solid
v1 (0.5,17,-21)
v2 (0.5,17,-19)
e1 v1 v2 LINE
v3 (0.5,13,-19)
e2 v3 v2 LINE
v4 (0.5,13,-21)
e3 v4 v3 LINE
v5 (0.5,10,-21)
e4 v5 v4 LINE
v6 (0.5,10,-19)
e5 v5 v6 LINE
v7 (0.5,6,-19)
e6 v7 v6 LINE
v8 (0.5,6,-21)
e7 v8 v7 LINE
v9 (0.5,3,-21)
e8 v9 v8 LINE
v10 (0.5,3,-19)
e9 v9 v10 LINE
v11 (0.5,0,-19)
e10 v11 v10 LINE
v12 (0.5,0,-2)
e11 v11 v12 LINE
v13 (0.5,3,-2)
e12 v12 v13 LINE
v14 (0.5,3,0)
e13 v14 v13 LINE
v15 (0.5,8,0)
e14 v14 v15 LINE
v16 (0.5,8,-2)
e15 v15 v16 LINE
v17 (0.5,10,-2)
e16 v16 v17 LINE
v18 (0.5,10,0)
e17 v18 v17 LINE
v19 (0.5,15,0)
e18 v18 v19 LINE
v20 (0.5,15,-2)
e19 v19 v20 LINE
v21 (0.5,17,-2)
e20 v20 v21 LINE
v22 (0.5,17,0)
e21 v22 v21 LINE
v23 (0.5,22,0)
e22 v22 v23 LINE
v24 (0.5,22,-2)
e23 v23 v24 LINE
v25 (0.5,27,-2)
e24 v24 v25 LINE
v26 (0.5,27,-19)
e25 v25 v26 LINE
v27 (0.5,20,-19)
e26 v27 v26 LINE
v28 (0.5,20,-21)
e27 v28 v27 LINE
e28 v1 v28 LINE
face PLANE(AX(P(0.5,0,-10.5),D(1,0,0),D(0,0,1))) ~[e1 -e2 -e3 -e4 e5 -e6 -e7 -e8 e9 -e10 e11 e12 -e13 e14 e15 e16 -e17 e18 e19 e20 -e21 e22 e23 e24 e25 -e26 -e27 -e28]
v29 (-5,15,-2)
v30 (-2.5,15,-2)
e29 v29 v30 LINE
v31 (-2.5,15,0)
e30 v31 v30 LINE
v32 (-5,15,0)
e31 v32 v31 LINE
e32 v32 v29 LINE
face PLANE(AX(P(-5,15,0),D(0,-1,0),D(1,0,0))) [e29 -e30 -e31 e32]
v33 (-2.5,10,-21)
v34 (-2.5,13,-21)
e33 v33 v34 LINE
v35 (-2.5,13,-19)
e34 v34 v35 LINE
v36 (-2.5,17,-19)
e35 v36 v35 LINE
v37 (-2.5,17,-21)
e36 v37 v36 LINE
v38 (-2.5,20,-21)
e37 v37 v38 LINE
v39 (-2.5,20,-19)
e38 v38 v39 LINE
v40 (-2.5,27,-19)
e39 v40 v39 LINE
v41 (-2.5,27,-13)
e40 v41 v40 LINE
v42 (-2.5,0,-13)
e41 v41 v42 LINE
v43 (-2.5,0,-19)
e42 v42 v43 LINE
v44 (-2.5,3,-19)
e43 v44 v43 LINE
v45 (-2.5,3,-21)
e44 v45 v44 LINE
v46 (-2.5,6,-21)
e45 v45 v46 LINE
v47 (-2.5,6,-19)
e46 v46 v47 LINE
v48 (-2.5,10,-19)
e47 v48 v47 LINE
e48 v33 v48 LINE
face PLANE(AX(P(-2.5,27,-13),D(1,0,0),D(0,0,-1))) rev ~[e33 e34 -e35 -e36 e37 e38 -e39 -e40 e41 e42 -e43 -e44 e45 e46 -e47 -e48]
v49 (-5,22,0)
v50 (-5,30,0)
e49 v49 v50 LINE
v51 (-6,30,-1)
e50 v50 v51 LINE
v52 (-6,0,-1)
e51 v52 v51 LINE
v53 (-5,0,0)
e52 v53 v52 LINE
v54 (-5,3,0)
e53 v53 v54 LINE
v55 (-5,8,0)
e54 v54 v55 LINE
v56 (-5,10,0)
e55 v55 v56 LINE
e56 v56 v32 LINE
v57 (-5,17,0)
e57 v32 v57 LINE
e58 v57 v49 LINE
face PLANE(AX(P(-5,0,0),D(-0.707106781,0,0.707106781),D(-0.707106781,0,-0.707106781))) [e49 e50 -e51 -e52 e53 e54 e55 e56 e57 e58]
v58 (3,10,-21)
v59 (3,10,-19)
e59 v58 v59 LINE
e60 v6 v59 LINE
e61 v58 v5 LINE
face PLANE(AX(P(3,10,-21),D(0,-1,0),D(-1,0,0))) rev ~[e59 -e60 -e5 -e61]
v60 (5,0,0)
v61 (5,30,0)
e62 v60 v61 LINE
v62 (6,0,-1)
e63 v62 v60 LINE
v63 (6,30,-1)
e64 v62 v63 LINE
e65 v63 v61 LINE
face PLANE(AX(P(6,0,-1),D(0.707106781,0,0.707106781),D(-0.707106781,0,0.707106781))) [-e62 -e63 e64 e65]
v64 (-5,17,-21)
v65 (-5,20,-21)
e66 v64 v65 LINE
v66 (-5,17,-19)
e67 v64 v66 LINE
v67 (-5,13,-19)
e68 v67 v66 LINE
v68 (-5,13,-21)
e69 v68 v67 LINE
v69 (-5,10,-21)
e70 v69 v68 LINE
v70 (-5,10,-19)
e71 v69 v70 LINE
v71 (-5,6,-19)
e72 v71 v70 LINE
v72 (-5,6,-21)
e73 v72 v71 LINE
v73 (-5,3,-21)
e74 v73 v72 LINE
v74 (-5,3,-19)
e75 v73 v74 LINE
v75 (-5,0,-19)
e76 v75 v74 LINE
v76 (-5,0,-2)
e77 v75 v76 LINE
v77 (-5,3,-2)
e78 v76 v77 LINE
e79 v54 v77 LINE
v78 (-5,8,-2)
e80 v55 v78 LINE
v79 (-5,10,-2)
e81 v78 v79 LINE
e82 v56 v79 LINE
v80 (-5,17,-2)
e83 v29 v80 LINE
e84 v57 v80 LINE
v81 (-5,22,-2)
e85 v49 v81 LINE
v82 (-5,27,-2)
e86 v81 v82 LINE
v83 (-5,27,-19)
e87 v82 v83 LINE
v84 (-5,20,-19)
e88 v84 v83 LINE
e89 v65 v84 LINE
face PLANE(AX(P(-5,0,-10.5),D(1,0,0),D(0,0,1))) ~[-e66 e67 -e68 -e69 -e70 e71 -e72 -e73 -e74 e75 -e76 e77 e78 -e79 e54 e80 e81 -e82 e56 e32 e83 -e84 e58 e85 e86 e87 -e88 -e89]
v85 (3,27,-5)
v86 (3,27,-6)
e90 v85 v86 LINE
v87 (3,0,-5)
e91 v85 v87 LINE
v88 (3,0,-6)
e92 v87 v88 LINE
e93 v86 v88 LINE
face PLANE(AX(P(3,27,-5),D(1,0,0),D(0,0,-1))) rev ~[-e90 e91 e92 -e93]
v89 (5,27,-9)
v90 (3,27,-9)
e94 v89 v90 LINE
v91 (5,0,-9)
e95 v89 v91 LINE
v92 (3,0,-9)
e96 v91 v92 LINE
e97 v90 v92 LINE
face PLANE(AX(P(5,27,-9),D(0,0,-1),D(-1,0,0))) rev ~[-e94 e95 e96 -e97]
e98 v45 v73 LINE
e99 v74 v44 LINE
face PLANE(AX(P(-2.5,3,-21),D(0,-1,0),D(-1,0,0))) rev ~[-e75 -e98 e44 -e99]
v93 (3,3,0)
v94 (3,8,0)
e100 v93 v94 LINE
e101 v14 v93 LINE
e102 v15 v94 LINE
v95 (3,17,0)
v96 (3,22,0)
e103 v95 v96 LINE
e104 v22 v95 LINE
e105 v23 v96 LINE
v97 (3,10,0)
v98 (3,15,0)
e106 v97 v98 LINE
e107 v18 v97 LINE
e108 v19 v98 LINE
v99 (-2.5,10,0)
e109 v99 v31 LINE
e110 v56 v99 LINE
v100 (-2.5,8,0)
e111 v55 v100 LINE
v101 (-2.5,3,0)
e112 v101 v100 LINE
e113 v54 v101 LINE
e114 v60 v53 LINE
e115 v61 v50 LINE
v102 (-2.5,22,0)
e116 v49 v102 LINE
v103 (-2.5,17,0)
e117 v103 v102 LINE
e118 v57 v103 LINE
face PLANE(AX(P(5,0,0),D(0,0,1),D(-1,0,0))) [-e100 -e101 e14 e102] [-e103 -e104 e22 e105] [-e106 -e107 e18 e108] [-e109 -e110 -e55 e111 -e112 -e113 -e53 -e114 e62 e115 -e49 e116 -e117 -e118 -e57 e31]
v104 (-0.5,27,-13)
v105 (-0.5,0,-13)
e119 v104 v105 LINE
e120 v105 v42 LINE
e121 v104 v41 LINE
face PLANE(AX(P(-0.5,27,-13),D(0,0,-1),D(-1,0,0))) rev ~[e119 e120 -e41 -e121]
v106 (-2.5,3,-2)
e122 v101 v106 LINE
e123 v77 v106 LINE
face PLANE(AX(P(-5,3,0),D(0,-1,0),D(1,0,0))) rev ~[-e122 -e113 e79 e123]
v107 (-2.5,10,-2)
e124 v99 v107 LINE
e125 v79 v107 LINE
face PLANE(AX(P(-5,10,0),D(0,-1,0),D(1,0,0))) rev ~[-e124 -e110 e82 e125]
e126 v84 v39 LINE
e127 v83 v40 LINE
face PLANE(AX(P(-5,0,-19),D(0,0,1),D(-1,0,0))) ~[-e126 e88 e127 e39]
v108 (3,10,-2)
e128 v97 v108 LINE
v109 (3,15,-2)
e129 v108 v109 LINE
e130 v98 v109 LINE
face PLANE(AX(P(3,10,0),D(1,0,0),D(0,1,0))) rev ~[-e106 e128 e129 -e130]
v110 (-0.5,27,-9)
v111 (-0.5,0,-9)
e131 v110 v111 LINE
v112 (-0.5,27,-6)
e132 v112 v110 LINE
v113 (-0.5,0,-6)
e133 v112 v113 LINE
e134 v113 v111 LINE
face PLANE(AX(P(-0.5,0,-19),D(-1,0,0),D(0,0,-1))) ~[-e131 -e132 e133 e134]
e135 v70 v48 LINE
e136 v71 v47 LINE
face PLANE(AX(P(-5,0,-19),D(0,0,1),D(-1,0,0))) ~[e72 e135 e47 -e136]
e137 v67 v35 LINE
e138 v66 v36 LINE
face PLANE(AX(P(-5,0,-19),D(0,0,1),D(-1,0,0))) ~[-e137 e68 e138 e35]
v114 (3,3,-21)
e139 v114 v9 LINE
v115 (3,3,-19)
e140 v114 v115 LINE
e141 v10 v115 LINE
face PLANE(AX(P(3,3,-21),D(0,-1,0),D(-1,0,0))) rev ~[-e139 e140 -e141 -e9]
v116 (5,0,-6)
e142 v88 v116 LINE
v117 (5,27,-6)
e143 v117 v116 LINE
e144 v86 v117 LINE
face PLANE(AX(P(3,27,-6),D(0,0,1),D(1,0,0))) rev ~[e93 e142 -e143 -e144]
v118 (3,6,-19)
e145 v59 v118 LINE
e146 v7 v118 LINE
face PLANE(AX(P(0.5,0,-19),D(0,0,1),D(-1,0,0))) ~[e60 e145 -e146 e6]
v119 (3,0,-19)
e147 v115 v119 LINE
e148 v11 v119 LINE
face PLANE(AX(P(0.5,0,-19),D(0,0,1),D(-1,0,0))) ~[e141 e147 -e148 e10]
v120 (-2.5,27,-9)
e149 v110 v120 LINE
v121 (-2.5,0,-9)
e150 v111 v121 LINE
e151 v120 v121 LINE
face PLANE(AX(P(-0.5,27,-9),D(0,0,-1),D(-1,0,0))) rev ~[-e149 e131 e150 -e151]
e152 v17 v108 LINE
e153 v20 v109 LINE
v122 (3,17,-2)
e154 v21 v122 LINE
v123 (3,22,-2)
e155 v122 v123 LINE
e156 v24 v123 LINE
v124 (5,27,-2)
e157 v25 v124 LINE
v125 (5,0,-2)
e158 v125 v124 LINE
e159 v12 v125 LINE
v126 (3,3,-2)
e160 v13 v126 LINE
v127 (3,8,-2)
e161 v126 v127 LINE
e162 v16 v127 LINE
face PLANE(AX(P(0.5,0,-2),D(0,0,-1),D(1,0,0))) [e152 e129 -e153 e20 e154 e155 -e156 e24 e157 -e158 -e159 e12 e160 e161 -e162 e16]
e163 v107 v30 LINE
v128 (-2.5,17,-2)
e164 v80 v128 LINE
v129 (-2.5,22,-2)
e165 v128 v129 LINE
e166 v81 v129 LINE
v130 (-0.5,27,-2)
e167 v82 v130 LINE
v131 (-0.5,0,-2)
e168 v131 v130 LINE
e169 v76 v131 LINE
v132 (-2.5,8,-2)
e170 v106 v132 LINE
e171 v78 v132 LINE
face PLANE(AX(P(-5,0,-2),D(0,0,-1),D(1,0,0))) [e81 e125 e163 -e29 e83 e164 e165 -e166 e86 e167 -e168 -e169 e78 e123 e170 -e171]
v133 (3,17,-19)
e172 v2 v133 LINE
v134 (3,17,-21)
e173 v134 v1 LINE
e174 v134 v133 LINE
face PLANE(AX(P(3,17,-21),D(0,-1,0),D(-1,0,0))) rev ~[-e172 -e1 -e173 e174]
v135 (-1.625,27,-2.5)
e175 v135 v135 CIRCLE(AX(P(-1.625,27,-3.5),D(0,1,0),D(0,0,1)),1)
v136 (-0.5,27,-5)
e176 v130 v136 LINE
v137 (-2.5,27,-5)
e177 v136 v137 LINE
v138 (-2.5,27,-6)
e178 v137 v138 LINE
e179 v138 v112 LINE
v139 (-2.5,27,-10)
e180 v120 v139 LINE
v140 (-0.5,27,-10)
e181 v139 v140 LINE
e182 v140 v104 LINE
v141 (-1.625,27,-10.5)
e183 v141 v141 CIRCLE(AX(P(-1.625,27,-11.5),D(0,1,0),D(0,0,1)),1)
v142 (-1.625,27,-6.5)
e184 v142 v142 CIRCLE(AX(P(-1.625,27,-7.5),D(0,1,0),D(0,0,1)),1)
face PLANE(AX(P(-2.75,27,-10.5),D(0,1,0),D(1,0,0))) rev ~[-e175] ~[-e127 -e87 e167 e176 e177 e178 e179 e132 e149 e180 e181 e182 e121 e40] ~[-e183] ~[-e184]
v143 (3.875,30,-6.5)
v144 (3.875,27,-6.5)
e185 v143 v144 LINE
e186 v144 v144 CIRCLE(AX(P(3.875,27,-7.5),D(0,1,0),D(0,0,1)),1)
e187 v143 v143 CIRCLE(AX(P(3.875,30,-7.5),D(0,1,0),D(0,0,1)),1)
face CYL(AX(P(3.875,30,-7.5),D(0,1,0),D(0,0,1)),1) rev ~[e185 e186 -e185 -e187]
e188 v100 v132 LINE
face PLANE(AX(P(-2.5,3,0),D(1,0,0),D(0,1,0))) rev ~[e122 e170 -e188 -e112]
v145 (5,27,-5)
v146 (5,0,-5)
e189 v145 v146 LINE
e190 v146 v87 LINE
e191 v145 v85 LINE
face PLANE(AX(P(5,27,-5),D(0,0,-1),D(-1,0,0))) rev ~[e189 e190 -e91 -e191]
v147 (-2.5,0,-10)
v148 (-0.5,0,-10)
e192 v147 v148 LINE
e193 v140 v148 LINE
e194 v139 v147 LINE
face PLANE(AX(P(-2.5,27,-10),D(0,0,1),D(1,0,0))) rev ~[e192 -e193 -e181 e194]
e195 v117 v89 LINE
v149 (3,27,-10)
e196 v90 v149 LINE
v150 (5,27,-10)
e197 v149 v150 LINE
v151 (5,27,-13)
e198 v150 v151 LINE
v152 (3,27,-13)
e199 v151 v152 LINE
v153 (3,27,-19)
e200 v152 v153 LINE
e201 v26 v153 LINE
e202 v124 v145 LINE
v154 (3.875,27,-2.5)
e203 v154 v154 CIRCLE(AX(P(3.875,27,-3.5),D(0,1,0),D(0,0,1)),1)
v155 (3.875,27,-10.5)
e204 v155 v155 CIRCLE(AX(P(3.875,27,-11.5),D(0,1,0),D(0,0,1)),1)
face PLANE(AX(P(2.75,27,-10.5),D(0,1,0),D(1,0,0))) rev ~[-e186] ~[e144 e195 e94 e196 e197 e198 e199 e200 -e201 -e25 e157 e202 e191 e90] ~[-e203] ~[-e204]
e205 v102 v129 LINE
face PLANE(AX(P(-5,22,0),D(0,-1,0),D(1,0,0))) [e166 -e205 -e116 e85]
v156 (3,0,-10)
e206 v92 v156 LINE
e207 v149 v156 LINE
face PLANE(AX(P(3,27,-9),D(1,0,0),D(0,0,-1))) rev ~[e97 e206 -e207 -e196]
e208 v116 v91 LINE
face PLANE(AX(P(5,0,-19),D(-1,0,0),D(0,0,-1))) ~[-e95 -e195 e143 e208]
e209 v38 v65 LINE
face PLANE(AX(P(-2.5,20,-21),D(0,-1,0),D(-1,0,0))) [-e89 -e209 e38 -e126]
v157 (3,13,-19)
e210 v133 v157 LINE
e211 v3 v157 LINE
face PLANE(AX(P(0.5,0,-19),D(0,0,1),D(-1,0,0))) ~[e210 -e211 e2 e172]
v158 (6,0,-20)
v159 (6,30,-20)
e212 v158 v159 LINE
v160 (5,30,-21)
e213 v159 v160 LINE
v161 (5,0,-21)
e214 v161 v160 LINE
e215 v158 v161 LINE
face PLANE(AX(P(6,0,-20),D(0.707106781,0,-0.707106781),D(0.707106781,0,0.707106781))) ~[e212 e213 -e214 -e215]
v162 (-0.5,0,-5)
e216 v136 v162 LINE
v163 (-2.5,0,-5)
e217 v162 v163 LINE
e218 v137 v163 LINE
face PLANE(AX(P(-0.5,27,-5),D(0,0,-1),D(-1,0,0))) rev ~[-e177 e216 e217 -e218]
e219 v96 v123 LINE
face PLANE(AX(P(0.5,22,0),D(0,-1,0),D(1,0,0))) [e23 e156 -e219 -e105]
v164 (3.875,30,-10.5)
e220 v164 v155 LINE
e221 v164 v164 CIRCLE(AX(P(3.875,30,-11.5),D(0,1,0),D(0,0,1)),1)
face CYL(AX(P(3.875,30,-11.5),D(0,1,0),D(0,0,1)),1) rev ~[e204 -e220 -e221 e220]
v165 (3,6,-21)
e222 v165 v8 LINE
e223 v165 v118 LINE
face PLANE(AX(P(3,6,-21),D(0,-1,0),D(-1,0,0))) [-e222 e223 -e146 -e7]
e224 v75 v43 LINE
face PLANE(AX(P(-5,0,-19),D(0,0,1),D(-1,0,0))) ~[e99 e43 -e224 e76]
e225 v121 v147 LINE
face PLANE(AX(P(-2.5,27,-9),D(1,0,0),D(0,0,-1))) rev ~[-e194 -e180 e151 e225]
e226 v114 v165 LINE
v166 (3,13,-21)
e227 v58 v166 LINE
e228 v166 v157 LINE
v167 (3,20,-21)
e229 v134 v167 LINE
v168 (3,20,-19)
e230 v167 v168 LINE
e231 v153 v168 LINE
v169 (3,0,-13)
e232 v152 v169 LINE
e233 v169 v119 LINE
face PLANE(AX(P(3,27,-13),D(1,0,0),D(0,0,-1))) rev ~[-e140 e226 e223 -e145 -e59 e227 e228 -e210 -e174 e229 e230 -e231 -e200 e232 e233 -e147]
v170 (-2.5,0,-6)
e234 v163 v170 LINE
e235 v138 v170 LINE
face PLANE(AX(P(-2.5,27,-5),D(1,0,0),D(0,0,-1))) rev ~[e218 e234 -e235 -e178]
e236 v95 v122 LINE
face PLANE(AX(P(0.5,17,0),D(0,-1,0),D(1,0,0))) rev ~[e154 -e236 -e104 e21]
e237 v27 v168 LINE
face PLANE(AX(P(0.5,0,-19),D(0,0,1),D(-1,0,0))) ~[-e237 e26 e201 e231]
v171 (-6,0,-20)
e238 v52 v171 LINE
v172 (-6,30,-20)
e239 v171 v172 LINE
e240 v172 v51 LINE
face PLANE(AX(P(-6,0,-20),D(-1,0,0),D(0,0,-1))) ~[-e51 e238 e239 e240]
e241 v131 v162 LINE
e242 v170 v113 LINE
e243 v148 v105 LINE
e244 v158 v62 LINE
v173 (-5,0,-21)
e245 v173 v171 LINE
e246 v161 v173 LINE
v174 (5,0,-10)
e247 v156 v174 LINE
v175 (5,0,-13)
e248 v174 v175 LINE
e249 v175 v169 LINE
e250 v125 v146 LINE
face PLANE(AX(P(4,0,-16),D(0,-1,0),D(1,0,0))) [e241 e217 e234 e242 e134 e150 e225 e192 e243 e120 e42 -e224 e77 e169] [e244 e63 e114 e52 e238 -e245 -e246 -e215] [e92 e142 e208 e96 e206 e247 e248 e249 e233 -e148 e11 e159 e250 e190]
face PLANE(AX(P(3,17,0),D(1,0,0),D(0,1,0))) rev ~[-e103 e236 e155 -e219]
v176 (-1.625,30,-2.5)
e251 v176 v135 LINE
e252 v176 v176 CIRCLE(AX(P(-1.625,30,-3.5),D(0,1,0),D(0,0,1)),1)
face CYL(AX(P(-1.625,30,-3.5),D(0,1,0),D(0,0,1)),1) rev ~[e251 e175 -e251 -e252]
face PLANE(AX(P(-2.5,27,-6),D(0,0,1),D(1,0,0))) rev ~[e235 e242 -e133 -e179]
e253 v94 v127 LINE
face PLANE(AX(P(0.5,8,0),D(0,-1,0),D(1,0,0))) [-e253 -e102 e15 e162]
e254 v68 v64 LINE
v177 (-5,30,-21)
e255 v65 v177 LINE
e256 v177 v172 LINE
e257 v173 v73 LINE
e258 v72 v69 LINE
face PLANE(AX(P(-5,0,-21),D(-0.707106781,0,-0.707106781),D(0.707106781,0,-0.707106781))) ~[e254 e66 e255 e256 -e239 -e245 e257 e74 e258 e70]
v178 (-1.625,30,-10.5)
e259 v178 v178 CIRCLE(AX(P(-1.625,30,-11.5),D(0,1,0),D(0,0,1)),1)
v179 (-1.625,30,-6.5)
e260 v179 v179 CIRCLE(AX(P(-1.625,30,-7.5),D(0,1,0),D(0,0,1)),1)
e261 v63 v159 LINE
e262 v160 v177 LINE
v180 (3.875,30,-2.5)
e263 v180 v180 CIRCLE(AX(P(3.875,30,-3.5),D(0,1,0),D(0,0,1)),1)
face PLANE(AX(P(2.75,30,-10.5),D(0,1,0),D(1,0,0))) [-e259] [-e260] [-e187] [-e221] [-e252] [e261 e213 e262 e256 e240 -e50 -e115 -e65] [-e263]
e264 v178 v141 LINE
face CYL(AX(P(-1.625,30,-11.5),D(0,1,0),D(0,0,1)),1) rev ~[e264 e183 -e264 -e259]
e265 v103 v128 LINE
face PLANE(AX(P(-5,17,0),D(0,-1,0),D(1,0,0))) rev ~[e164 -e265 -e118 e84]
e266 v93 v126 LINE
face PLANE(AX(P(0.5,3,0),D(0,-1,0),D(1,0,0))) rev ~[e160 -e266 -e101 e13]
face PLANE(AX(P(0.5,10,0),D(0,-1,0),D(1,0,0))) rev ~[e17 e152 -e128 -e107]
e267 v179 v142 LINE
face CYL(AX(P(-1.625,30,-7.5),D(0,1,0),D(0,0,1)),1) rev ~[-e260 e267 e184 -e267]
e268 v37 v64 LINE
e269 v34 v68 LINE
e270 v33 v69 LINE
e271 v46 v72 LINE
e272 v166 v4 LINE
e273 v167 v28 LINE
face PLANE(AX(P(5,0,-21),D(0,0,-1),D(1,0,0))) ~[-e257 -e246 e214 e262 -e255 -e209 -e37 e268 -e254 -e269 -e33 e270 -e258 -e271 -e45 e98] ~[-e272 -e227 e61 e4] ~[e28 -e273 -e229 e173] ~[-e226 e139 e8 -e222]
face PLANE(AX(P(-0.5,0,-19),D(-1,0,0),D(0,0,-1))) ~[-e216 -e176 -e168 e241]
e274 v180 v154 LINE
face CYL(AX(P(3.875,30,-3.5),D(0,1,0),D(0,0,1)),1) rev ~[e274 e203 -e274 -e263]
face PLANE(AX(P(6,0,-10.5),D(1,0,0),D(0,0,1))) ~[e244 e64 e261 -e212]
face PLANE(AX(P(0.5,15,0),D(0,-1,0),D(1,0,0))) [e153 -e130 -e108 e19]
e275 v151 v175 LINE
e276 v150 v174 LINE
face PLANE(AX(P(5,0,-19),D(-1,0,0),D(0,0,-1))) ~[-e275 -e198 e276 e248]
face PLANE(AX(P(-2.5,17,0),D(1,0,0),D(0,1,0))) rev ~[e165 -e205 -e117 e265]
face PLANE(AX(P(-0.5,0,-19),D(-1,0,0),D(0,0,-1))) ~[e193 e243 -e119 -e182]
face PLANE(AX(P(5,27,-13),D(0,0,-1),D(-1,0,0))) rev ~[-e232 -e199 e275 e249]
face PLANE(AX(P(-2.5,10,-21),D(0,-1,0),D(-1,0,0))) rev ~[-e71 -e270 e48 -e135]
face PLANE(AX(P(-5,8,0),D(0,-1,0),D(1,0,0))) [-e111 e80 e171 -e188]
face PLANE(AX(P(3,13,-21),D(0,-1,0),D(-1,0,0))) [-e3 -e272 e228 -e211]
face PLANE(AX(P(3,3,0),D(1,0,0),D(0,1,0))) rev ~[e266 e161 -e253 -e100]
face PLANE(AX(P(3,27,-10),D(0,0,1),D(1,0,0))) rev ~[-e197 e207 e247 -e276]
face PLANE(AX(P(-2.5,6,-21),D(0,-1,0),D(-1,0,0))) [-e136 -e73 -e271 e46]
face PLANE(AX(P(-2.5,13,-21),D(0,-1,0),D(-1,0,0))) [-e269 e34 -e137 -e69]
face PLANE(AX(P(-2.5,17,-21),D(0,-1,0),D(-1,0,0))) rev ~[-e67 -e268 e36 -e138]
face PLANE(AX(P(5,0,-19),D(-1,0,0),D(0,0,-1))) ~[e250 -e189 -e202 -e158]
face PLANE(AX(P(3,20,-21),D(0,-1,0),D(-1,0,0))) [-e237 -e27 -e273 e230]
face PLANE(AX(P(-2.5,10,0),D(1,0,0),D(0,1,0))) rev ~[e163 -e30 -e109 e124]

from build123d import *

# Parameters (mm, degrees)
EXTRUDE_1_DEPTH                  = 30
SKETCH_2_W                       = 4.5
SKETCH_2_H                       = 17
SKETCH_2_R                       = 1
EXTRUDE_2_DEPTH                  = 3
EXTRUDE_3_DEPTH                  = 27
PATTERN_LINEAR_1_COUNT           = 2
PATTERN_LINEAR_1_PITCH           = 5.5
PATTERN_LINEAR_2_COUNT           = 2
PATTERN_LINEAR_2_PITCH           = 5.5
CUT_EXTRUDE_1_REACH              = 39.108
SKETCH_5_W                       = 2.5
SKETCH_5_H                       = 3
PATTERN_LINEAR_3_COUNT           = 3
PATTERN_LINEAR_3_PITCH           = 7
PATTERN_LINEAR_4_COUNT           = 2
PATTERN_LINEAR_4_PITCH           = 5.5
PATTERN_LINEAR_4_COPY_1_REACH    = 39.108
PATTERN_LINEAR_4_COPY_1_SKETCH_W = 2.5
PATTERN_LINEAR_4_COPY_1_SKETCH_H = 3
PATTERN_LINEAR_4_COPY_2_REACH    = 39.108
PATTERN_LINEAR_4_COPY_2_SKETCH_W = 2.5
PATTERN_LINEAR_4_COPY_2_SKETCH_H = 3
CUT_EXTRUDE_2_REACH              = 39.108
SKETCH_6_W                       = 2.5
SKETCH_6_H                       = 5
PATTERN_LINEAR_5_COUNT           = 3
PATTERN_LINEAR_5_PITCH           = 7
PATTERN_LINEAR_7_COUNT           = 2
PATTERN_LINEAR_7_PITCH           = 5.5
PATTERN_LINEAR_7_COPY_1_REACH    = 39.108
PATTERN_LINEAR_7_COPY_1_SKETCH_W = 2.5
PATTERN_LINEAR_7_COPY_1_SKETCH_H = 5
PATTERN_LINEAR_7_COPY_2_REACH    = 39.108
PATTERN_LINEAR_7_COPY_2_SKETCH_W = 2.5
PATTERN_LINEAR_7_COPY_2_SKETCH_H = 5


with BuildPart() as part:
    # Эскиз1 → Бобышка-Вытянуть1 (new body)
    with BuildSketch(Plane(origin=(0, 0, 0), x_dir=(1, 0, 0), z_dir=(0, 1, 0))):
        Polygon((5, 0), (-5, 0), (-6, 1), (-6, 10.5), (-5, 10.5), (-5, 2), (-0.5, 2), (-0.5, 10.5), (0.5, 10.5), (0.5, 2), (5, 2), (5, 10.5), (6, 10.5), (6, 1), align=None)
    extrude_1 = extrude(amount=EXTRUDE_1_DEPTH)

    # Зеркальное отражение1: Бобышка-Вытянуть1 across plane
    add(extrude_1.mirror(Plane(origin=(-0.5, 30, -10.5), x_dir=(1, 0, 0), z_dir=(0, 0, 1))))

    # Эскиз2 → Бобышка-Вытянуть2 (add)
    with BuildSketch(Plane(origin=(0, 30, 0), x_dir=(1, 0, 0), z_dir=(0, 1, 0))):
        with Locations((-2.75, 10.5)):
            Rectangle(SKETCH_2_W, SKETCH_2_H)
        with Locations(Location((-1.625, 11.5, 0), (0, 0, 270))):
            Circle(SKETCH_2_R, mode=Mode.SUBTRACT)
        with Locations(Location((-1.625, 7.5, 0), (0, 0, 270))):
            Circle(SKETCH_2_R, mode=Mode.SUBTRACT)
        with Locations(Location((-1.625, 3.5, 0), (0, 0, 270))):
            Circle(SKETCH_2_R, mode=Mode.SUBTRACT)
    extrude_2 = extrude(amount=-EXTRUDE_2_DEPTH)

    # Эскиз3 → Бобышка-Вытянуть3 (add)
    with BuildSketch(Plane.XZ.offset(-27)):
        Polygon((-2.5, -19), (-0.5, -19), (-0.5, -13), (-1.625, -13), (-2.5, -13), align=None)
        Polygon((-1.625, -10), (-0.5, -10), (-0.5, -9), (-1.625, -9), (-2.5, -9), (-2.5, -10), align=None)
        Polygon((-1.625, -6), (-0.5, -6), (-0.5, -5), (-2.5, -5), (-2.5, -6), align=None)
    extrude_3 = extrude(amount=EXTRUDE_3_DEPTH)

    # Линейный массив1: Бобышка-Вытянуть2 ×2
    with Locations(*[(i * PATTERN_LINEAR_1_PITCH, 0, 0) for i in range(1, PATTERN_LINEAR_1_COUNT)]):
        add(extrude_2)

    # Линейный массив2: Бобышка-Вытянуть3 ×2
    with Locations(*[(i * PATTERN_LINEAR_2_PITCH, 0, 0) for i in range(1, PATTERN_LINEAR_2_COUNT)]):
        add(extrude_3)

    # Эскиз5 → Вырез-Вытянуть1 (cut, up to next)
    with BuildSketch(Plane(origin=(0, 0, -21), x_dir=(-1, 0, 0), z_dir=(0, 0, -1)), mode=Mode.PRIVATE) as cut_extrude_1_sk1:
        with Locations((3.75, 18.5)):
            Rectangle(SKETCH_5_W, SKETCH_5_H)
    cut_extrude_1_tool1 = extrude(cut_extrude_1_sk1.sketch, amount=-CUT_EXTRUDE_1_REACH, mode=Mode.PRIVATE) & part.part
    cut_extrude_1 = cut_extrude_1_tool1.solids().sort_by_distance((-3.75, 18.5, -21))[0]
    add(cut_extrude_1, mode=Mode.SUBTRACT)

    # Линейный массив3: Вырез-Вытянуть1 ×3
    with Locations(*[(0, -i * PATTERN_LINEAR_3_PITCH, 0) for i in range(1, PATTERN_LINEAR_3_COUNT)]):
        add(cut_extrude_1, mode=Mode.SUBTRACT)

    # Линейный массив4: Вырез-Вытянуть1 ×2
    with Locations(*[(i * PATTERN_LINEAR_4_PITCH, 0, 0) for i in range(1, PATTERN_LINEAR_4_COUNT)]):
        add(cut_extrude_1, mode=Mode.SUBTRACT)

    # Линейный массив4 copy 1 sketch → Линейный массив4 copy 1 (cut, up to next)
    with BuildSketch(Plane(origin=(5.5, -7, -21), x_dir=(-1, 0, 0), z_dir=(0, 0, -1)), mode=Mode.PRIVATE) as pattern_linear_4_copy_1_sk1:
        with Locations((3.75, 18.5)):
            Rectangle(PATTERN_LINEAR_4_COPY_1_SKETCH_W, PATTERN_LINEAR_4_COPY_1_SKETCH_H)
    pattern_linear_4_copy_1_tool1 = extrude(pattern_linear_4_copy_1_sk1.sketch, amount=-PATTERN_LINEAR_4_COPY_1_REACH, mode=Mode.PRIVATE) & part.part
    add(pattern_linear_4_copy_1_tool1.solids().sort_by_distance((1.75, 11.5, -21))[0], mode=Mode.SUBTRACT)

    # Линейный массив4 copy 2 sketch → Линейный массив4 copy 2 (cut, up to next)
    with BuildSketch(Plane(origin=(5.5, -14, -21), x_dir=(-1, 0, 0), z_dir=(0, 0, -1)), mode=Mode.PRIVATE) as pattern_linear_4_copy_2_sk1:
        with Locations((3.75, 18.5)):
            Rectangle(PATTERN_LINEAR_4_COPY_2_SKETCH_W, PATTERN_LINEAR_4_COPY_2_SKETCH_H)
    pattern_linear_4_copy_2_tool1 = extrude(pattern_linear_4_copy_2_sk1.sketch, amount=-PATTERN_LINEAR_4_COPY_2_REACH, mode=Mode.PRIVATE) & part.part
    add(pattern_linear_4_copy_2_tool1.solids().sort_by_distance((1.75, 4.5, -21))[0], mode=Mode.SUBTRACT)

    # Эскиз6 → Вырез-Вытянуть2 (cut, up to next)
    with BuildSketch(Plane.XY, mode=Mode.PRIVATE) as cut_extrude_2_sk1:
        with Locations((-3.75, 19.5)):
            Rectangle(SKETCH_6_W, SKETCH_6_H)
    cut_extrude_2_tool1 = extrude(cut_extrude_2_sk1.sketch, amount=-CUT_EXTRUDE_2_REACH, mode=Mode.PRIVATE) & part.part
    cut_extrude_2 = cut_extrude_2_tool1.solids().sort_by_distance((-3.75, 19.5, 0))[0]
    add(cut_extrude_2, mode=Mode.SUBTRACT)

    # Линейный массив5: Вырез-Вытянуть2 ×3
    with Locations(*[(0, -i * PATTERN_LINEAR_5_PITCH, 0) for i in range(1, PATTERN_LINEAR_5_COUNT)]):
        add(cut_extrude_2, mode=Mode.SUBTRACT)

    # Линейный массив7: Вырез-Вытянуть2 ×2
    with Locations(*[(i * PATTERN_LINEAR_7_PITCH, 0, 0) for i in range(1, PATTERN_LINEAR_7_COUNT)]):
        add(cut_extrude_2, mode=Mode.SUBTRACT)

    # Линейный массив7 copy 1 sketch → Линейный массив7 copy 1 (cut, up to next)
    with BuildSketch(Plane(origin=(5.5, -7, 0), x_dir=(1, 0, 0), z_dir=(0, 0, 1)), mode=Mode.PRIVATE) as pattern_linear_7_copy_1_sk1:
        with Locations((-3.75, 19.5)):
            Rectangle(PATTERN_LINEAR_7_COPY_1_SKETCH_W, PATTERN_LINEAR_7_COPY_1_SKETCH_H)
    pattern_linear_7_copy_1_tool1 = extrude(pattern_linear_7_copy_1_sk1.sketch, amount=-PATTERN_LINEAR_7_COPY_1_REACH, mode=Mode.PRIVATE) & part.part
    add(pattern_linear_7_copy_1_tool1.solids().sort_by_distance((1.75, 12.5, 0))[0], mode=Mode.SUBTRACT)

    # Линейный массив7 copy 2 sketch → Линейный массив7 copy 2 (cut, up to next)
    with BuildSketch(Plane(origin=(5.5, -14, 0), x_dir=(1, 0, 0), z_dir=(0, 0, 1)), mode=Mode.PRIVATE) as pattern_linear_7_copy_2_sk1:
        with Locations((-3.75, 19.5)):
            Rectangle(PATTERN_LINEAR_7_COPY_2_SKETCH_W, PATTERN_LINEAR_7_COPY_2_SKETCH_H)
    pattern_linear_7_copy_2_tool1 = extrude(pattern_linear_7_copy_2_sk1.sketch, amount=-PATTERN_LINEAR_7_COPY_2_REACH, mode=Mode.PRIVATE) & part.part
    add(pattern_linear_7_copy_2_tool1.solids().sort_by_distance((1.75, 5.5, 0))[0], mode=Mode.SUBTRACT)


solid = part.part
